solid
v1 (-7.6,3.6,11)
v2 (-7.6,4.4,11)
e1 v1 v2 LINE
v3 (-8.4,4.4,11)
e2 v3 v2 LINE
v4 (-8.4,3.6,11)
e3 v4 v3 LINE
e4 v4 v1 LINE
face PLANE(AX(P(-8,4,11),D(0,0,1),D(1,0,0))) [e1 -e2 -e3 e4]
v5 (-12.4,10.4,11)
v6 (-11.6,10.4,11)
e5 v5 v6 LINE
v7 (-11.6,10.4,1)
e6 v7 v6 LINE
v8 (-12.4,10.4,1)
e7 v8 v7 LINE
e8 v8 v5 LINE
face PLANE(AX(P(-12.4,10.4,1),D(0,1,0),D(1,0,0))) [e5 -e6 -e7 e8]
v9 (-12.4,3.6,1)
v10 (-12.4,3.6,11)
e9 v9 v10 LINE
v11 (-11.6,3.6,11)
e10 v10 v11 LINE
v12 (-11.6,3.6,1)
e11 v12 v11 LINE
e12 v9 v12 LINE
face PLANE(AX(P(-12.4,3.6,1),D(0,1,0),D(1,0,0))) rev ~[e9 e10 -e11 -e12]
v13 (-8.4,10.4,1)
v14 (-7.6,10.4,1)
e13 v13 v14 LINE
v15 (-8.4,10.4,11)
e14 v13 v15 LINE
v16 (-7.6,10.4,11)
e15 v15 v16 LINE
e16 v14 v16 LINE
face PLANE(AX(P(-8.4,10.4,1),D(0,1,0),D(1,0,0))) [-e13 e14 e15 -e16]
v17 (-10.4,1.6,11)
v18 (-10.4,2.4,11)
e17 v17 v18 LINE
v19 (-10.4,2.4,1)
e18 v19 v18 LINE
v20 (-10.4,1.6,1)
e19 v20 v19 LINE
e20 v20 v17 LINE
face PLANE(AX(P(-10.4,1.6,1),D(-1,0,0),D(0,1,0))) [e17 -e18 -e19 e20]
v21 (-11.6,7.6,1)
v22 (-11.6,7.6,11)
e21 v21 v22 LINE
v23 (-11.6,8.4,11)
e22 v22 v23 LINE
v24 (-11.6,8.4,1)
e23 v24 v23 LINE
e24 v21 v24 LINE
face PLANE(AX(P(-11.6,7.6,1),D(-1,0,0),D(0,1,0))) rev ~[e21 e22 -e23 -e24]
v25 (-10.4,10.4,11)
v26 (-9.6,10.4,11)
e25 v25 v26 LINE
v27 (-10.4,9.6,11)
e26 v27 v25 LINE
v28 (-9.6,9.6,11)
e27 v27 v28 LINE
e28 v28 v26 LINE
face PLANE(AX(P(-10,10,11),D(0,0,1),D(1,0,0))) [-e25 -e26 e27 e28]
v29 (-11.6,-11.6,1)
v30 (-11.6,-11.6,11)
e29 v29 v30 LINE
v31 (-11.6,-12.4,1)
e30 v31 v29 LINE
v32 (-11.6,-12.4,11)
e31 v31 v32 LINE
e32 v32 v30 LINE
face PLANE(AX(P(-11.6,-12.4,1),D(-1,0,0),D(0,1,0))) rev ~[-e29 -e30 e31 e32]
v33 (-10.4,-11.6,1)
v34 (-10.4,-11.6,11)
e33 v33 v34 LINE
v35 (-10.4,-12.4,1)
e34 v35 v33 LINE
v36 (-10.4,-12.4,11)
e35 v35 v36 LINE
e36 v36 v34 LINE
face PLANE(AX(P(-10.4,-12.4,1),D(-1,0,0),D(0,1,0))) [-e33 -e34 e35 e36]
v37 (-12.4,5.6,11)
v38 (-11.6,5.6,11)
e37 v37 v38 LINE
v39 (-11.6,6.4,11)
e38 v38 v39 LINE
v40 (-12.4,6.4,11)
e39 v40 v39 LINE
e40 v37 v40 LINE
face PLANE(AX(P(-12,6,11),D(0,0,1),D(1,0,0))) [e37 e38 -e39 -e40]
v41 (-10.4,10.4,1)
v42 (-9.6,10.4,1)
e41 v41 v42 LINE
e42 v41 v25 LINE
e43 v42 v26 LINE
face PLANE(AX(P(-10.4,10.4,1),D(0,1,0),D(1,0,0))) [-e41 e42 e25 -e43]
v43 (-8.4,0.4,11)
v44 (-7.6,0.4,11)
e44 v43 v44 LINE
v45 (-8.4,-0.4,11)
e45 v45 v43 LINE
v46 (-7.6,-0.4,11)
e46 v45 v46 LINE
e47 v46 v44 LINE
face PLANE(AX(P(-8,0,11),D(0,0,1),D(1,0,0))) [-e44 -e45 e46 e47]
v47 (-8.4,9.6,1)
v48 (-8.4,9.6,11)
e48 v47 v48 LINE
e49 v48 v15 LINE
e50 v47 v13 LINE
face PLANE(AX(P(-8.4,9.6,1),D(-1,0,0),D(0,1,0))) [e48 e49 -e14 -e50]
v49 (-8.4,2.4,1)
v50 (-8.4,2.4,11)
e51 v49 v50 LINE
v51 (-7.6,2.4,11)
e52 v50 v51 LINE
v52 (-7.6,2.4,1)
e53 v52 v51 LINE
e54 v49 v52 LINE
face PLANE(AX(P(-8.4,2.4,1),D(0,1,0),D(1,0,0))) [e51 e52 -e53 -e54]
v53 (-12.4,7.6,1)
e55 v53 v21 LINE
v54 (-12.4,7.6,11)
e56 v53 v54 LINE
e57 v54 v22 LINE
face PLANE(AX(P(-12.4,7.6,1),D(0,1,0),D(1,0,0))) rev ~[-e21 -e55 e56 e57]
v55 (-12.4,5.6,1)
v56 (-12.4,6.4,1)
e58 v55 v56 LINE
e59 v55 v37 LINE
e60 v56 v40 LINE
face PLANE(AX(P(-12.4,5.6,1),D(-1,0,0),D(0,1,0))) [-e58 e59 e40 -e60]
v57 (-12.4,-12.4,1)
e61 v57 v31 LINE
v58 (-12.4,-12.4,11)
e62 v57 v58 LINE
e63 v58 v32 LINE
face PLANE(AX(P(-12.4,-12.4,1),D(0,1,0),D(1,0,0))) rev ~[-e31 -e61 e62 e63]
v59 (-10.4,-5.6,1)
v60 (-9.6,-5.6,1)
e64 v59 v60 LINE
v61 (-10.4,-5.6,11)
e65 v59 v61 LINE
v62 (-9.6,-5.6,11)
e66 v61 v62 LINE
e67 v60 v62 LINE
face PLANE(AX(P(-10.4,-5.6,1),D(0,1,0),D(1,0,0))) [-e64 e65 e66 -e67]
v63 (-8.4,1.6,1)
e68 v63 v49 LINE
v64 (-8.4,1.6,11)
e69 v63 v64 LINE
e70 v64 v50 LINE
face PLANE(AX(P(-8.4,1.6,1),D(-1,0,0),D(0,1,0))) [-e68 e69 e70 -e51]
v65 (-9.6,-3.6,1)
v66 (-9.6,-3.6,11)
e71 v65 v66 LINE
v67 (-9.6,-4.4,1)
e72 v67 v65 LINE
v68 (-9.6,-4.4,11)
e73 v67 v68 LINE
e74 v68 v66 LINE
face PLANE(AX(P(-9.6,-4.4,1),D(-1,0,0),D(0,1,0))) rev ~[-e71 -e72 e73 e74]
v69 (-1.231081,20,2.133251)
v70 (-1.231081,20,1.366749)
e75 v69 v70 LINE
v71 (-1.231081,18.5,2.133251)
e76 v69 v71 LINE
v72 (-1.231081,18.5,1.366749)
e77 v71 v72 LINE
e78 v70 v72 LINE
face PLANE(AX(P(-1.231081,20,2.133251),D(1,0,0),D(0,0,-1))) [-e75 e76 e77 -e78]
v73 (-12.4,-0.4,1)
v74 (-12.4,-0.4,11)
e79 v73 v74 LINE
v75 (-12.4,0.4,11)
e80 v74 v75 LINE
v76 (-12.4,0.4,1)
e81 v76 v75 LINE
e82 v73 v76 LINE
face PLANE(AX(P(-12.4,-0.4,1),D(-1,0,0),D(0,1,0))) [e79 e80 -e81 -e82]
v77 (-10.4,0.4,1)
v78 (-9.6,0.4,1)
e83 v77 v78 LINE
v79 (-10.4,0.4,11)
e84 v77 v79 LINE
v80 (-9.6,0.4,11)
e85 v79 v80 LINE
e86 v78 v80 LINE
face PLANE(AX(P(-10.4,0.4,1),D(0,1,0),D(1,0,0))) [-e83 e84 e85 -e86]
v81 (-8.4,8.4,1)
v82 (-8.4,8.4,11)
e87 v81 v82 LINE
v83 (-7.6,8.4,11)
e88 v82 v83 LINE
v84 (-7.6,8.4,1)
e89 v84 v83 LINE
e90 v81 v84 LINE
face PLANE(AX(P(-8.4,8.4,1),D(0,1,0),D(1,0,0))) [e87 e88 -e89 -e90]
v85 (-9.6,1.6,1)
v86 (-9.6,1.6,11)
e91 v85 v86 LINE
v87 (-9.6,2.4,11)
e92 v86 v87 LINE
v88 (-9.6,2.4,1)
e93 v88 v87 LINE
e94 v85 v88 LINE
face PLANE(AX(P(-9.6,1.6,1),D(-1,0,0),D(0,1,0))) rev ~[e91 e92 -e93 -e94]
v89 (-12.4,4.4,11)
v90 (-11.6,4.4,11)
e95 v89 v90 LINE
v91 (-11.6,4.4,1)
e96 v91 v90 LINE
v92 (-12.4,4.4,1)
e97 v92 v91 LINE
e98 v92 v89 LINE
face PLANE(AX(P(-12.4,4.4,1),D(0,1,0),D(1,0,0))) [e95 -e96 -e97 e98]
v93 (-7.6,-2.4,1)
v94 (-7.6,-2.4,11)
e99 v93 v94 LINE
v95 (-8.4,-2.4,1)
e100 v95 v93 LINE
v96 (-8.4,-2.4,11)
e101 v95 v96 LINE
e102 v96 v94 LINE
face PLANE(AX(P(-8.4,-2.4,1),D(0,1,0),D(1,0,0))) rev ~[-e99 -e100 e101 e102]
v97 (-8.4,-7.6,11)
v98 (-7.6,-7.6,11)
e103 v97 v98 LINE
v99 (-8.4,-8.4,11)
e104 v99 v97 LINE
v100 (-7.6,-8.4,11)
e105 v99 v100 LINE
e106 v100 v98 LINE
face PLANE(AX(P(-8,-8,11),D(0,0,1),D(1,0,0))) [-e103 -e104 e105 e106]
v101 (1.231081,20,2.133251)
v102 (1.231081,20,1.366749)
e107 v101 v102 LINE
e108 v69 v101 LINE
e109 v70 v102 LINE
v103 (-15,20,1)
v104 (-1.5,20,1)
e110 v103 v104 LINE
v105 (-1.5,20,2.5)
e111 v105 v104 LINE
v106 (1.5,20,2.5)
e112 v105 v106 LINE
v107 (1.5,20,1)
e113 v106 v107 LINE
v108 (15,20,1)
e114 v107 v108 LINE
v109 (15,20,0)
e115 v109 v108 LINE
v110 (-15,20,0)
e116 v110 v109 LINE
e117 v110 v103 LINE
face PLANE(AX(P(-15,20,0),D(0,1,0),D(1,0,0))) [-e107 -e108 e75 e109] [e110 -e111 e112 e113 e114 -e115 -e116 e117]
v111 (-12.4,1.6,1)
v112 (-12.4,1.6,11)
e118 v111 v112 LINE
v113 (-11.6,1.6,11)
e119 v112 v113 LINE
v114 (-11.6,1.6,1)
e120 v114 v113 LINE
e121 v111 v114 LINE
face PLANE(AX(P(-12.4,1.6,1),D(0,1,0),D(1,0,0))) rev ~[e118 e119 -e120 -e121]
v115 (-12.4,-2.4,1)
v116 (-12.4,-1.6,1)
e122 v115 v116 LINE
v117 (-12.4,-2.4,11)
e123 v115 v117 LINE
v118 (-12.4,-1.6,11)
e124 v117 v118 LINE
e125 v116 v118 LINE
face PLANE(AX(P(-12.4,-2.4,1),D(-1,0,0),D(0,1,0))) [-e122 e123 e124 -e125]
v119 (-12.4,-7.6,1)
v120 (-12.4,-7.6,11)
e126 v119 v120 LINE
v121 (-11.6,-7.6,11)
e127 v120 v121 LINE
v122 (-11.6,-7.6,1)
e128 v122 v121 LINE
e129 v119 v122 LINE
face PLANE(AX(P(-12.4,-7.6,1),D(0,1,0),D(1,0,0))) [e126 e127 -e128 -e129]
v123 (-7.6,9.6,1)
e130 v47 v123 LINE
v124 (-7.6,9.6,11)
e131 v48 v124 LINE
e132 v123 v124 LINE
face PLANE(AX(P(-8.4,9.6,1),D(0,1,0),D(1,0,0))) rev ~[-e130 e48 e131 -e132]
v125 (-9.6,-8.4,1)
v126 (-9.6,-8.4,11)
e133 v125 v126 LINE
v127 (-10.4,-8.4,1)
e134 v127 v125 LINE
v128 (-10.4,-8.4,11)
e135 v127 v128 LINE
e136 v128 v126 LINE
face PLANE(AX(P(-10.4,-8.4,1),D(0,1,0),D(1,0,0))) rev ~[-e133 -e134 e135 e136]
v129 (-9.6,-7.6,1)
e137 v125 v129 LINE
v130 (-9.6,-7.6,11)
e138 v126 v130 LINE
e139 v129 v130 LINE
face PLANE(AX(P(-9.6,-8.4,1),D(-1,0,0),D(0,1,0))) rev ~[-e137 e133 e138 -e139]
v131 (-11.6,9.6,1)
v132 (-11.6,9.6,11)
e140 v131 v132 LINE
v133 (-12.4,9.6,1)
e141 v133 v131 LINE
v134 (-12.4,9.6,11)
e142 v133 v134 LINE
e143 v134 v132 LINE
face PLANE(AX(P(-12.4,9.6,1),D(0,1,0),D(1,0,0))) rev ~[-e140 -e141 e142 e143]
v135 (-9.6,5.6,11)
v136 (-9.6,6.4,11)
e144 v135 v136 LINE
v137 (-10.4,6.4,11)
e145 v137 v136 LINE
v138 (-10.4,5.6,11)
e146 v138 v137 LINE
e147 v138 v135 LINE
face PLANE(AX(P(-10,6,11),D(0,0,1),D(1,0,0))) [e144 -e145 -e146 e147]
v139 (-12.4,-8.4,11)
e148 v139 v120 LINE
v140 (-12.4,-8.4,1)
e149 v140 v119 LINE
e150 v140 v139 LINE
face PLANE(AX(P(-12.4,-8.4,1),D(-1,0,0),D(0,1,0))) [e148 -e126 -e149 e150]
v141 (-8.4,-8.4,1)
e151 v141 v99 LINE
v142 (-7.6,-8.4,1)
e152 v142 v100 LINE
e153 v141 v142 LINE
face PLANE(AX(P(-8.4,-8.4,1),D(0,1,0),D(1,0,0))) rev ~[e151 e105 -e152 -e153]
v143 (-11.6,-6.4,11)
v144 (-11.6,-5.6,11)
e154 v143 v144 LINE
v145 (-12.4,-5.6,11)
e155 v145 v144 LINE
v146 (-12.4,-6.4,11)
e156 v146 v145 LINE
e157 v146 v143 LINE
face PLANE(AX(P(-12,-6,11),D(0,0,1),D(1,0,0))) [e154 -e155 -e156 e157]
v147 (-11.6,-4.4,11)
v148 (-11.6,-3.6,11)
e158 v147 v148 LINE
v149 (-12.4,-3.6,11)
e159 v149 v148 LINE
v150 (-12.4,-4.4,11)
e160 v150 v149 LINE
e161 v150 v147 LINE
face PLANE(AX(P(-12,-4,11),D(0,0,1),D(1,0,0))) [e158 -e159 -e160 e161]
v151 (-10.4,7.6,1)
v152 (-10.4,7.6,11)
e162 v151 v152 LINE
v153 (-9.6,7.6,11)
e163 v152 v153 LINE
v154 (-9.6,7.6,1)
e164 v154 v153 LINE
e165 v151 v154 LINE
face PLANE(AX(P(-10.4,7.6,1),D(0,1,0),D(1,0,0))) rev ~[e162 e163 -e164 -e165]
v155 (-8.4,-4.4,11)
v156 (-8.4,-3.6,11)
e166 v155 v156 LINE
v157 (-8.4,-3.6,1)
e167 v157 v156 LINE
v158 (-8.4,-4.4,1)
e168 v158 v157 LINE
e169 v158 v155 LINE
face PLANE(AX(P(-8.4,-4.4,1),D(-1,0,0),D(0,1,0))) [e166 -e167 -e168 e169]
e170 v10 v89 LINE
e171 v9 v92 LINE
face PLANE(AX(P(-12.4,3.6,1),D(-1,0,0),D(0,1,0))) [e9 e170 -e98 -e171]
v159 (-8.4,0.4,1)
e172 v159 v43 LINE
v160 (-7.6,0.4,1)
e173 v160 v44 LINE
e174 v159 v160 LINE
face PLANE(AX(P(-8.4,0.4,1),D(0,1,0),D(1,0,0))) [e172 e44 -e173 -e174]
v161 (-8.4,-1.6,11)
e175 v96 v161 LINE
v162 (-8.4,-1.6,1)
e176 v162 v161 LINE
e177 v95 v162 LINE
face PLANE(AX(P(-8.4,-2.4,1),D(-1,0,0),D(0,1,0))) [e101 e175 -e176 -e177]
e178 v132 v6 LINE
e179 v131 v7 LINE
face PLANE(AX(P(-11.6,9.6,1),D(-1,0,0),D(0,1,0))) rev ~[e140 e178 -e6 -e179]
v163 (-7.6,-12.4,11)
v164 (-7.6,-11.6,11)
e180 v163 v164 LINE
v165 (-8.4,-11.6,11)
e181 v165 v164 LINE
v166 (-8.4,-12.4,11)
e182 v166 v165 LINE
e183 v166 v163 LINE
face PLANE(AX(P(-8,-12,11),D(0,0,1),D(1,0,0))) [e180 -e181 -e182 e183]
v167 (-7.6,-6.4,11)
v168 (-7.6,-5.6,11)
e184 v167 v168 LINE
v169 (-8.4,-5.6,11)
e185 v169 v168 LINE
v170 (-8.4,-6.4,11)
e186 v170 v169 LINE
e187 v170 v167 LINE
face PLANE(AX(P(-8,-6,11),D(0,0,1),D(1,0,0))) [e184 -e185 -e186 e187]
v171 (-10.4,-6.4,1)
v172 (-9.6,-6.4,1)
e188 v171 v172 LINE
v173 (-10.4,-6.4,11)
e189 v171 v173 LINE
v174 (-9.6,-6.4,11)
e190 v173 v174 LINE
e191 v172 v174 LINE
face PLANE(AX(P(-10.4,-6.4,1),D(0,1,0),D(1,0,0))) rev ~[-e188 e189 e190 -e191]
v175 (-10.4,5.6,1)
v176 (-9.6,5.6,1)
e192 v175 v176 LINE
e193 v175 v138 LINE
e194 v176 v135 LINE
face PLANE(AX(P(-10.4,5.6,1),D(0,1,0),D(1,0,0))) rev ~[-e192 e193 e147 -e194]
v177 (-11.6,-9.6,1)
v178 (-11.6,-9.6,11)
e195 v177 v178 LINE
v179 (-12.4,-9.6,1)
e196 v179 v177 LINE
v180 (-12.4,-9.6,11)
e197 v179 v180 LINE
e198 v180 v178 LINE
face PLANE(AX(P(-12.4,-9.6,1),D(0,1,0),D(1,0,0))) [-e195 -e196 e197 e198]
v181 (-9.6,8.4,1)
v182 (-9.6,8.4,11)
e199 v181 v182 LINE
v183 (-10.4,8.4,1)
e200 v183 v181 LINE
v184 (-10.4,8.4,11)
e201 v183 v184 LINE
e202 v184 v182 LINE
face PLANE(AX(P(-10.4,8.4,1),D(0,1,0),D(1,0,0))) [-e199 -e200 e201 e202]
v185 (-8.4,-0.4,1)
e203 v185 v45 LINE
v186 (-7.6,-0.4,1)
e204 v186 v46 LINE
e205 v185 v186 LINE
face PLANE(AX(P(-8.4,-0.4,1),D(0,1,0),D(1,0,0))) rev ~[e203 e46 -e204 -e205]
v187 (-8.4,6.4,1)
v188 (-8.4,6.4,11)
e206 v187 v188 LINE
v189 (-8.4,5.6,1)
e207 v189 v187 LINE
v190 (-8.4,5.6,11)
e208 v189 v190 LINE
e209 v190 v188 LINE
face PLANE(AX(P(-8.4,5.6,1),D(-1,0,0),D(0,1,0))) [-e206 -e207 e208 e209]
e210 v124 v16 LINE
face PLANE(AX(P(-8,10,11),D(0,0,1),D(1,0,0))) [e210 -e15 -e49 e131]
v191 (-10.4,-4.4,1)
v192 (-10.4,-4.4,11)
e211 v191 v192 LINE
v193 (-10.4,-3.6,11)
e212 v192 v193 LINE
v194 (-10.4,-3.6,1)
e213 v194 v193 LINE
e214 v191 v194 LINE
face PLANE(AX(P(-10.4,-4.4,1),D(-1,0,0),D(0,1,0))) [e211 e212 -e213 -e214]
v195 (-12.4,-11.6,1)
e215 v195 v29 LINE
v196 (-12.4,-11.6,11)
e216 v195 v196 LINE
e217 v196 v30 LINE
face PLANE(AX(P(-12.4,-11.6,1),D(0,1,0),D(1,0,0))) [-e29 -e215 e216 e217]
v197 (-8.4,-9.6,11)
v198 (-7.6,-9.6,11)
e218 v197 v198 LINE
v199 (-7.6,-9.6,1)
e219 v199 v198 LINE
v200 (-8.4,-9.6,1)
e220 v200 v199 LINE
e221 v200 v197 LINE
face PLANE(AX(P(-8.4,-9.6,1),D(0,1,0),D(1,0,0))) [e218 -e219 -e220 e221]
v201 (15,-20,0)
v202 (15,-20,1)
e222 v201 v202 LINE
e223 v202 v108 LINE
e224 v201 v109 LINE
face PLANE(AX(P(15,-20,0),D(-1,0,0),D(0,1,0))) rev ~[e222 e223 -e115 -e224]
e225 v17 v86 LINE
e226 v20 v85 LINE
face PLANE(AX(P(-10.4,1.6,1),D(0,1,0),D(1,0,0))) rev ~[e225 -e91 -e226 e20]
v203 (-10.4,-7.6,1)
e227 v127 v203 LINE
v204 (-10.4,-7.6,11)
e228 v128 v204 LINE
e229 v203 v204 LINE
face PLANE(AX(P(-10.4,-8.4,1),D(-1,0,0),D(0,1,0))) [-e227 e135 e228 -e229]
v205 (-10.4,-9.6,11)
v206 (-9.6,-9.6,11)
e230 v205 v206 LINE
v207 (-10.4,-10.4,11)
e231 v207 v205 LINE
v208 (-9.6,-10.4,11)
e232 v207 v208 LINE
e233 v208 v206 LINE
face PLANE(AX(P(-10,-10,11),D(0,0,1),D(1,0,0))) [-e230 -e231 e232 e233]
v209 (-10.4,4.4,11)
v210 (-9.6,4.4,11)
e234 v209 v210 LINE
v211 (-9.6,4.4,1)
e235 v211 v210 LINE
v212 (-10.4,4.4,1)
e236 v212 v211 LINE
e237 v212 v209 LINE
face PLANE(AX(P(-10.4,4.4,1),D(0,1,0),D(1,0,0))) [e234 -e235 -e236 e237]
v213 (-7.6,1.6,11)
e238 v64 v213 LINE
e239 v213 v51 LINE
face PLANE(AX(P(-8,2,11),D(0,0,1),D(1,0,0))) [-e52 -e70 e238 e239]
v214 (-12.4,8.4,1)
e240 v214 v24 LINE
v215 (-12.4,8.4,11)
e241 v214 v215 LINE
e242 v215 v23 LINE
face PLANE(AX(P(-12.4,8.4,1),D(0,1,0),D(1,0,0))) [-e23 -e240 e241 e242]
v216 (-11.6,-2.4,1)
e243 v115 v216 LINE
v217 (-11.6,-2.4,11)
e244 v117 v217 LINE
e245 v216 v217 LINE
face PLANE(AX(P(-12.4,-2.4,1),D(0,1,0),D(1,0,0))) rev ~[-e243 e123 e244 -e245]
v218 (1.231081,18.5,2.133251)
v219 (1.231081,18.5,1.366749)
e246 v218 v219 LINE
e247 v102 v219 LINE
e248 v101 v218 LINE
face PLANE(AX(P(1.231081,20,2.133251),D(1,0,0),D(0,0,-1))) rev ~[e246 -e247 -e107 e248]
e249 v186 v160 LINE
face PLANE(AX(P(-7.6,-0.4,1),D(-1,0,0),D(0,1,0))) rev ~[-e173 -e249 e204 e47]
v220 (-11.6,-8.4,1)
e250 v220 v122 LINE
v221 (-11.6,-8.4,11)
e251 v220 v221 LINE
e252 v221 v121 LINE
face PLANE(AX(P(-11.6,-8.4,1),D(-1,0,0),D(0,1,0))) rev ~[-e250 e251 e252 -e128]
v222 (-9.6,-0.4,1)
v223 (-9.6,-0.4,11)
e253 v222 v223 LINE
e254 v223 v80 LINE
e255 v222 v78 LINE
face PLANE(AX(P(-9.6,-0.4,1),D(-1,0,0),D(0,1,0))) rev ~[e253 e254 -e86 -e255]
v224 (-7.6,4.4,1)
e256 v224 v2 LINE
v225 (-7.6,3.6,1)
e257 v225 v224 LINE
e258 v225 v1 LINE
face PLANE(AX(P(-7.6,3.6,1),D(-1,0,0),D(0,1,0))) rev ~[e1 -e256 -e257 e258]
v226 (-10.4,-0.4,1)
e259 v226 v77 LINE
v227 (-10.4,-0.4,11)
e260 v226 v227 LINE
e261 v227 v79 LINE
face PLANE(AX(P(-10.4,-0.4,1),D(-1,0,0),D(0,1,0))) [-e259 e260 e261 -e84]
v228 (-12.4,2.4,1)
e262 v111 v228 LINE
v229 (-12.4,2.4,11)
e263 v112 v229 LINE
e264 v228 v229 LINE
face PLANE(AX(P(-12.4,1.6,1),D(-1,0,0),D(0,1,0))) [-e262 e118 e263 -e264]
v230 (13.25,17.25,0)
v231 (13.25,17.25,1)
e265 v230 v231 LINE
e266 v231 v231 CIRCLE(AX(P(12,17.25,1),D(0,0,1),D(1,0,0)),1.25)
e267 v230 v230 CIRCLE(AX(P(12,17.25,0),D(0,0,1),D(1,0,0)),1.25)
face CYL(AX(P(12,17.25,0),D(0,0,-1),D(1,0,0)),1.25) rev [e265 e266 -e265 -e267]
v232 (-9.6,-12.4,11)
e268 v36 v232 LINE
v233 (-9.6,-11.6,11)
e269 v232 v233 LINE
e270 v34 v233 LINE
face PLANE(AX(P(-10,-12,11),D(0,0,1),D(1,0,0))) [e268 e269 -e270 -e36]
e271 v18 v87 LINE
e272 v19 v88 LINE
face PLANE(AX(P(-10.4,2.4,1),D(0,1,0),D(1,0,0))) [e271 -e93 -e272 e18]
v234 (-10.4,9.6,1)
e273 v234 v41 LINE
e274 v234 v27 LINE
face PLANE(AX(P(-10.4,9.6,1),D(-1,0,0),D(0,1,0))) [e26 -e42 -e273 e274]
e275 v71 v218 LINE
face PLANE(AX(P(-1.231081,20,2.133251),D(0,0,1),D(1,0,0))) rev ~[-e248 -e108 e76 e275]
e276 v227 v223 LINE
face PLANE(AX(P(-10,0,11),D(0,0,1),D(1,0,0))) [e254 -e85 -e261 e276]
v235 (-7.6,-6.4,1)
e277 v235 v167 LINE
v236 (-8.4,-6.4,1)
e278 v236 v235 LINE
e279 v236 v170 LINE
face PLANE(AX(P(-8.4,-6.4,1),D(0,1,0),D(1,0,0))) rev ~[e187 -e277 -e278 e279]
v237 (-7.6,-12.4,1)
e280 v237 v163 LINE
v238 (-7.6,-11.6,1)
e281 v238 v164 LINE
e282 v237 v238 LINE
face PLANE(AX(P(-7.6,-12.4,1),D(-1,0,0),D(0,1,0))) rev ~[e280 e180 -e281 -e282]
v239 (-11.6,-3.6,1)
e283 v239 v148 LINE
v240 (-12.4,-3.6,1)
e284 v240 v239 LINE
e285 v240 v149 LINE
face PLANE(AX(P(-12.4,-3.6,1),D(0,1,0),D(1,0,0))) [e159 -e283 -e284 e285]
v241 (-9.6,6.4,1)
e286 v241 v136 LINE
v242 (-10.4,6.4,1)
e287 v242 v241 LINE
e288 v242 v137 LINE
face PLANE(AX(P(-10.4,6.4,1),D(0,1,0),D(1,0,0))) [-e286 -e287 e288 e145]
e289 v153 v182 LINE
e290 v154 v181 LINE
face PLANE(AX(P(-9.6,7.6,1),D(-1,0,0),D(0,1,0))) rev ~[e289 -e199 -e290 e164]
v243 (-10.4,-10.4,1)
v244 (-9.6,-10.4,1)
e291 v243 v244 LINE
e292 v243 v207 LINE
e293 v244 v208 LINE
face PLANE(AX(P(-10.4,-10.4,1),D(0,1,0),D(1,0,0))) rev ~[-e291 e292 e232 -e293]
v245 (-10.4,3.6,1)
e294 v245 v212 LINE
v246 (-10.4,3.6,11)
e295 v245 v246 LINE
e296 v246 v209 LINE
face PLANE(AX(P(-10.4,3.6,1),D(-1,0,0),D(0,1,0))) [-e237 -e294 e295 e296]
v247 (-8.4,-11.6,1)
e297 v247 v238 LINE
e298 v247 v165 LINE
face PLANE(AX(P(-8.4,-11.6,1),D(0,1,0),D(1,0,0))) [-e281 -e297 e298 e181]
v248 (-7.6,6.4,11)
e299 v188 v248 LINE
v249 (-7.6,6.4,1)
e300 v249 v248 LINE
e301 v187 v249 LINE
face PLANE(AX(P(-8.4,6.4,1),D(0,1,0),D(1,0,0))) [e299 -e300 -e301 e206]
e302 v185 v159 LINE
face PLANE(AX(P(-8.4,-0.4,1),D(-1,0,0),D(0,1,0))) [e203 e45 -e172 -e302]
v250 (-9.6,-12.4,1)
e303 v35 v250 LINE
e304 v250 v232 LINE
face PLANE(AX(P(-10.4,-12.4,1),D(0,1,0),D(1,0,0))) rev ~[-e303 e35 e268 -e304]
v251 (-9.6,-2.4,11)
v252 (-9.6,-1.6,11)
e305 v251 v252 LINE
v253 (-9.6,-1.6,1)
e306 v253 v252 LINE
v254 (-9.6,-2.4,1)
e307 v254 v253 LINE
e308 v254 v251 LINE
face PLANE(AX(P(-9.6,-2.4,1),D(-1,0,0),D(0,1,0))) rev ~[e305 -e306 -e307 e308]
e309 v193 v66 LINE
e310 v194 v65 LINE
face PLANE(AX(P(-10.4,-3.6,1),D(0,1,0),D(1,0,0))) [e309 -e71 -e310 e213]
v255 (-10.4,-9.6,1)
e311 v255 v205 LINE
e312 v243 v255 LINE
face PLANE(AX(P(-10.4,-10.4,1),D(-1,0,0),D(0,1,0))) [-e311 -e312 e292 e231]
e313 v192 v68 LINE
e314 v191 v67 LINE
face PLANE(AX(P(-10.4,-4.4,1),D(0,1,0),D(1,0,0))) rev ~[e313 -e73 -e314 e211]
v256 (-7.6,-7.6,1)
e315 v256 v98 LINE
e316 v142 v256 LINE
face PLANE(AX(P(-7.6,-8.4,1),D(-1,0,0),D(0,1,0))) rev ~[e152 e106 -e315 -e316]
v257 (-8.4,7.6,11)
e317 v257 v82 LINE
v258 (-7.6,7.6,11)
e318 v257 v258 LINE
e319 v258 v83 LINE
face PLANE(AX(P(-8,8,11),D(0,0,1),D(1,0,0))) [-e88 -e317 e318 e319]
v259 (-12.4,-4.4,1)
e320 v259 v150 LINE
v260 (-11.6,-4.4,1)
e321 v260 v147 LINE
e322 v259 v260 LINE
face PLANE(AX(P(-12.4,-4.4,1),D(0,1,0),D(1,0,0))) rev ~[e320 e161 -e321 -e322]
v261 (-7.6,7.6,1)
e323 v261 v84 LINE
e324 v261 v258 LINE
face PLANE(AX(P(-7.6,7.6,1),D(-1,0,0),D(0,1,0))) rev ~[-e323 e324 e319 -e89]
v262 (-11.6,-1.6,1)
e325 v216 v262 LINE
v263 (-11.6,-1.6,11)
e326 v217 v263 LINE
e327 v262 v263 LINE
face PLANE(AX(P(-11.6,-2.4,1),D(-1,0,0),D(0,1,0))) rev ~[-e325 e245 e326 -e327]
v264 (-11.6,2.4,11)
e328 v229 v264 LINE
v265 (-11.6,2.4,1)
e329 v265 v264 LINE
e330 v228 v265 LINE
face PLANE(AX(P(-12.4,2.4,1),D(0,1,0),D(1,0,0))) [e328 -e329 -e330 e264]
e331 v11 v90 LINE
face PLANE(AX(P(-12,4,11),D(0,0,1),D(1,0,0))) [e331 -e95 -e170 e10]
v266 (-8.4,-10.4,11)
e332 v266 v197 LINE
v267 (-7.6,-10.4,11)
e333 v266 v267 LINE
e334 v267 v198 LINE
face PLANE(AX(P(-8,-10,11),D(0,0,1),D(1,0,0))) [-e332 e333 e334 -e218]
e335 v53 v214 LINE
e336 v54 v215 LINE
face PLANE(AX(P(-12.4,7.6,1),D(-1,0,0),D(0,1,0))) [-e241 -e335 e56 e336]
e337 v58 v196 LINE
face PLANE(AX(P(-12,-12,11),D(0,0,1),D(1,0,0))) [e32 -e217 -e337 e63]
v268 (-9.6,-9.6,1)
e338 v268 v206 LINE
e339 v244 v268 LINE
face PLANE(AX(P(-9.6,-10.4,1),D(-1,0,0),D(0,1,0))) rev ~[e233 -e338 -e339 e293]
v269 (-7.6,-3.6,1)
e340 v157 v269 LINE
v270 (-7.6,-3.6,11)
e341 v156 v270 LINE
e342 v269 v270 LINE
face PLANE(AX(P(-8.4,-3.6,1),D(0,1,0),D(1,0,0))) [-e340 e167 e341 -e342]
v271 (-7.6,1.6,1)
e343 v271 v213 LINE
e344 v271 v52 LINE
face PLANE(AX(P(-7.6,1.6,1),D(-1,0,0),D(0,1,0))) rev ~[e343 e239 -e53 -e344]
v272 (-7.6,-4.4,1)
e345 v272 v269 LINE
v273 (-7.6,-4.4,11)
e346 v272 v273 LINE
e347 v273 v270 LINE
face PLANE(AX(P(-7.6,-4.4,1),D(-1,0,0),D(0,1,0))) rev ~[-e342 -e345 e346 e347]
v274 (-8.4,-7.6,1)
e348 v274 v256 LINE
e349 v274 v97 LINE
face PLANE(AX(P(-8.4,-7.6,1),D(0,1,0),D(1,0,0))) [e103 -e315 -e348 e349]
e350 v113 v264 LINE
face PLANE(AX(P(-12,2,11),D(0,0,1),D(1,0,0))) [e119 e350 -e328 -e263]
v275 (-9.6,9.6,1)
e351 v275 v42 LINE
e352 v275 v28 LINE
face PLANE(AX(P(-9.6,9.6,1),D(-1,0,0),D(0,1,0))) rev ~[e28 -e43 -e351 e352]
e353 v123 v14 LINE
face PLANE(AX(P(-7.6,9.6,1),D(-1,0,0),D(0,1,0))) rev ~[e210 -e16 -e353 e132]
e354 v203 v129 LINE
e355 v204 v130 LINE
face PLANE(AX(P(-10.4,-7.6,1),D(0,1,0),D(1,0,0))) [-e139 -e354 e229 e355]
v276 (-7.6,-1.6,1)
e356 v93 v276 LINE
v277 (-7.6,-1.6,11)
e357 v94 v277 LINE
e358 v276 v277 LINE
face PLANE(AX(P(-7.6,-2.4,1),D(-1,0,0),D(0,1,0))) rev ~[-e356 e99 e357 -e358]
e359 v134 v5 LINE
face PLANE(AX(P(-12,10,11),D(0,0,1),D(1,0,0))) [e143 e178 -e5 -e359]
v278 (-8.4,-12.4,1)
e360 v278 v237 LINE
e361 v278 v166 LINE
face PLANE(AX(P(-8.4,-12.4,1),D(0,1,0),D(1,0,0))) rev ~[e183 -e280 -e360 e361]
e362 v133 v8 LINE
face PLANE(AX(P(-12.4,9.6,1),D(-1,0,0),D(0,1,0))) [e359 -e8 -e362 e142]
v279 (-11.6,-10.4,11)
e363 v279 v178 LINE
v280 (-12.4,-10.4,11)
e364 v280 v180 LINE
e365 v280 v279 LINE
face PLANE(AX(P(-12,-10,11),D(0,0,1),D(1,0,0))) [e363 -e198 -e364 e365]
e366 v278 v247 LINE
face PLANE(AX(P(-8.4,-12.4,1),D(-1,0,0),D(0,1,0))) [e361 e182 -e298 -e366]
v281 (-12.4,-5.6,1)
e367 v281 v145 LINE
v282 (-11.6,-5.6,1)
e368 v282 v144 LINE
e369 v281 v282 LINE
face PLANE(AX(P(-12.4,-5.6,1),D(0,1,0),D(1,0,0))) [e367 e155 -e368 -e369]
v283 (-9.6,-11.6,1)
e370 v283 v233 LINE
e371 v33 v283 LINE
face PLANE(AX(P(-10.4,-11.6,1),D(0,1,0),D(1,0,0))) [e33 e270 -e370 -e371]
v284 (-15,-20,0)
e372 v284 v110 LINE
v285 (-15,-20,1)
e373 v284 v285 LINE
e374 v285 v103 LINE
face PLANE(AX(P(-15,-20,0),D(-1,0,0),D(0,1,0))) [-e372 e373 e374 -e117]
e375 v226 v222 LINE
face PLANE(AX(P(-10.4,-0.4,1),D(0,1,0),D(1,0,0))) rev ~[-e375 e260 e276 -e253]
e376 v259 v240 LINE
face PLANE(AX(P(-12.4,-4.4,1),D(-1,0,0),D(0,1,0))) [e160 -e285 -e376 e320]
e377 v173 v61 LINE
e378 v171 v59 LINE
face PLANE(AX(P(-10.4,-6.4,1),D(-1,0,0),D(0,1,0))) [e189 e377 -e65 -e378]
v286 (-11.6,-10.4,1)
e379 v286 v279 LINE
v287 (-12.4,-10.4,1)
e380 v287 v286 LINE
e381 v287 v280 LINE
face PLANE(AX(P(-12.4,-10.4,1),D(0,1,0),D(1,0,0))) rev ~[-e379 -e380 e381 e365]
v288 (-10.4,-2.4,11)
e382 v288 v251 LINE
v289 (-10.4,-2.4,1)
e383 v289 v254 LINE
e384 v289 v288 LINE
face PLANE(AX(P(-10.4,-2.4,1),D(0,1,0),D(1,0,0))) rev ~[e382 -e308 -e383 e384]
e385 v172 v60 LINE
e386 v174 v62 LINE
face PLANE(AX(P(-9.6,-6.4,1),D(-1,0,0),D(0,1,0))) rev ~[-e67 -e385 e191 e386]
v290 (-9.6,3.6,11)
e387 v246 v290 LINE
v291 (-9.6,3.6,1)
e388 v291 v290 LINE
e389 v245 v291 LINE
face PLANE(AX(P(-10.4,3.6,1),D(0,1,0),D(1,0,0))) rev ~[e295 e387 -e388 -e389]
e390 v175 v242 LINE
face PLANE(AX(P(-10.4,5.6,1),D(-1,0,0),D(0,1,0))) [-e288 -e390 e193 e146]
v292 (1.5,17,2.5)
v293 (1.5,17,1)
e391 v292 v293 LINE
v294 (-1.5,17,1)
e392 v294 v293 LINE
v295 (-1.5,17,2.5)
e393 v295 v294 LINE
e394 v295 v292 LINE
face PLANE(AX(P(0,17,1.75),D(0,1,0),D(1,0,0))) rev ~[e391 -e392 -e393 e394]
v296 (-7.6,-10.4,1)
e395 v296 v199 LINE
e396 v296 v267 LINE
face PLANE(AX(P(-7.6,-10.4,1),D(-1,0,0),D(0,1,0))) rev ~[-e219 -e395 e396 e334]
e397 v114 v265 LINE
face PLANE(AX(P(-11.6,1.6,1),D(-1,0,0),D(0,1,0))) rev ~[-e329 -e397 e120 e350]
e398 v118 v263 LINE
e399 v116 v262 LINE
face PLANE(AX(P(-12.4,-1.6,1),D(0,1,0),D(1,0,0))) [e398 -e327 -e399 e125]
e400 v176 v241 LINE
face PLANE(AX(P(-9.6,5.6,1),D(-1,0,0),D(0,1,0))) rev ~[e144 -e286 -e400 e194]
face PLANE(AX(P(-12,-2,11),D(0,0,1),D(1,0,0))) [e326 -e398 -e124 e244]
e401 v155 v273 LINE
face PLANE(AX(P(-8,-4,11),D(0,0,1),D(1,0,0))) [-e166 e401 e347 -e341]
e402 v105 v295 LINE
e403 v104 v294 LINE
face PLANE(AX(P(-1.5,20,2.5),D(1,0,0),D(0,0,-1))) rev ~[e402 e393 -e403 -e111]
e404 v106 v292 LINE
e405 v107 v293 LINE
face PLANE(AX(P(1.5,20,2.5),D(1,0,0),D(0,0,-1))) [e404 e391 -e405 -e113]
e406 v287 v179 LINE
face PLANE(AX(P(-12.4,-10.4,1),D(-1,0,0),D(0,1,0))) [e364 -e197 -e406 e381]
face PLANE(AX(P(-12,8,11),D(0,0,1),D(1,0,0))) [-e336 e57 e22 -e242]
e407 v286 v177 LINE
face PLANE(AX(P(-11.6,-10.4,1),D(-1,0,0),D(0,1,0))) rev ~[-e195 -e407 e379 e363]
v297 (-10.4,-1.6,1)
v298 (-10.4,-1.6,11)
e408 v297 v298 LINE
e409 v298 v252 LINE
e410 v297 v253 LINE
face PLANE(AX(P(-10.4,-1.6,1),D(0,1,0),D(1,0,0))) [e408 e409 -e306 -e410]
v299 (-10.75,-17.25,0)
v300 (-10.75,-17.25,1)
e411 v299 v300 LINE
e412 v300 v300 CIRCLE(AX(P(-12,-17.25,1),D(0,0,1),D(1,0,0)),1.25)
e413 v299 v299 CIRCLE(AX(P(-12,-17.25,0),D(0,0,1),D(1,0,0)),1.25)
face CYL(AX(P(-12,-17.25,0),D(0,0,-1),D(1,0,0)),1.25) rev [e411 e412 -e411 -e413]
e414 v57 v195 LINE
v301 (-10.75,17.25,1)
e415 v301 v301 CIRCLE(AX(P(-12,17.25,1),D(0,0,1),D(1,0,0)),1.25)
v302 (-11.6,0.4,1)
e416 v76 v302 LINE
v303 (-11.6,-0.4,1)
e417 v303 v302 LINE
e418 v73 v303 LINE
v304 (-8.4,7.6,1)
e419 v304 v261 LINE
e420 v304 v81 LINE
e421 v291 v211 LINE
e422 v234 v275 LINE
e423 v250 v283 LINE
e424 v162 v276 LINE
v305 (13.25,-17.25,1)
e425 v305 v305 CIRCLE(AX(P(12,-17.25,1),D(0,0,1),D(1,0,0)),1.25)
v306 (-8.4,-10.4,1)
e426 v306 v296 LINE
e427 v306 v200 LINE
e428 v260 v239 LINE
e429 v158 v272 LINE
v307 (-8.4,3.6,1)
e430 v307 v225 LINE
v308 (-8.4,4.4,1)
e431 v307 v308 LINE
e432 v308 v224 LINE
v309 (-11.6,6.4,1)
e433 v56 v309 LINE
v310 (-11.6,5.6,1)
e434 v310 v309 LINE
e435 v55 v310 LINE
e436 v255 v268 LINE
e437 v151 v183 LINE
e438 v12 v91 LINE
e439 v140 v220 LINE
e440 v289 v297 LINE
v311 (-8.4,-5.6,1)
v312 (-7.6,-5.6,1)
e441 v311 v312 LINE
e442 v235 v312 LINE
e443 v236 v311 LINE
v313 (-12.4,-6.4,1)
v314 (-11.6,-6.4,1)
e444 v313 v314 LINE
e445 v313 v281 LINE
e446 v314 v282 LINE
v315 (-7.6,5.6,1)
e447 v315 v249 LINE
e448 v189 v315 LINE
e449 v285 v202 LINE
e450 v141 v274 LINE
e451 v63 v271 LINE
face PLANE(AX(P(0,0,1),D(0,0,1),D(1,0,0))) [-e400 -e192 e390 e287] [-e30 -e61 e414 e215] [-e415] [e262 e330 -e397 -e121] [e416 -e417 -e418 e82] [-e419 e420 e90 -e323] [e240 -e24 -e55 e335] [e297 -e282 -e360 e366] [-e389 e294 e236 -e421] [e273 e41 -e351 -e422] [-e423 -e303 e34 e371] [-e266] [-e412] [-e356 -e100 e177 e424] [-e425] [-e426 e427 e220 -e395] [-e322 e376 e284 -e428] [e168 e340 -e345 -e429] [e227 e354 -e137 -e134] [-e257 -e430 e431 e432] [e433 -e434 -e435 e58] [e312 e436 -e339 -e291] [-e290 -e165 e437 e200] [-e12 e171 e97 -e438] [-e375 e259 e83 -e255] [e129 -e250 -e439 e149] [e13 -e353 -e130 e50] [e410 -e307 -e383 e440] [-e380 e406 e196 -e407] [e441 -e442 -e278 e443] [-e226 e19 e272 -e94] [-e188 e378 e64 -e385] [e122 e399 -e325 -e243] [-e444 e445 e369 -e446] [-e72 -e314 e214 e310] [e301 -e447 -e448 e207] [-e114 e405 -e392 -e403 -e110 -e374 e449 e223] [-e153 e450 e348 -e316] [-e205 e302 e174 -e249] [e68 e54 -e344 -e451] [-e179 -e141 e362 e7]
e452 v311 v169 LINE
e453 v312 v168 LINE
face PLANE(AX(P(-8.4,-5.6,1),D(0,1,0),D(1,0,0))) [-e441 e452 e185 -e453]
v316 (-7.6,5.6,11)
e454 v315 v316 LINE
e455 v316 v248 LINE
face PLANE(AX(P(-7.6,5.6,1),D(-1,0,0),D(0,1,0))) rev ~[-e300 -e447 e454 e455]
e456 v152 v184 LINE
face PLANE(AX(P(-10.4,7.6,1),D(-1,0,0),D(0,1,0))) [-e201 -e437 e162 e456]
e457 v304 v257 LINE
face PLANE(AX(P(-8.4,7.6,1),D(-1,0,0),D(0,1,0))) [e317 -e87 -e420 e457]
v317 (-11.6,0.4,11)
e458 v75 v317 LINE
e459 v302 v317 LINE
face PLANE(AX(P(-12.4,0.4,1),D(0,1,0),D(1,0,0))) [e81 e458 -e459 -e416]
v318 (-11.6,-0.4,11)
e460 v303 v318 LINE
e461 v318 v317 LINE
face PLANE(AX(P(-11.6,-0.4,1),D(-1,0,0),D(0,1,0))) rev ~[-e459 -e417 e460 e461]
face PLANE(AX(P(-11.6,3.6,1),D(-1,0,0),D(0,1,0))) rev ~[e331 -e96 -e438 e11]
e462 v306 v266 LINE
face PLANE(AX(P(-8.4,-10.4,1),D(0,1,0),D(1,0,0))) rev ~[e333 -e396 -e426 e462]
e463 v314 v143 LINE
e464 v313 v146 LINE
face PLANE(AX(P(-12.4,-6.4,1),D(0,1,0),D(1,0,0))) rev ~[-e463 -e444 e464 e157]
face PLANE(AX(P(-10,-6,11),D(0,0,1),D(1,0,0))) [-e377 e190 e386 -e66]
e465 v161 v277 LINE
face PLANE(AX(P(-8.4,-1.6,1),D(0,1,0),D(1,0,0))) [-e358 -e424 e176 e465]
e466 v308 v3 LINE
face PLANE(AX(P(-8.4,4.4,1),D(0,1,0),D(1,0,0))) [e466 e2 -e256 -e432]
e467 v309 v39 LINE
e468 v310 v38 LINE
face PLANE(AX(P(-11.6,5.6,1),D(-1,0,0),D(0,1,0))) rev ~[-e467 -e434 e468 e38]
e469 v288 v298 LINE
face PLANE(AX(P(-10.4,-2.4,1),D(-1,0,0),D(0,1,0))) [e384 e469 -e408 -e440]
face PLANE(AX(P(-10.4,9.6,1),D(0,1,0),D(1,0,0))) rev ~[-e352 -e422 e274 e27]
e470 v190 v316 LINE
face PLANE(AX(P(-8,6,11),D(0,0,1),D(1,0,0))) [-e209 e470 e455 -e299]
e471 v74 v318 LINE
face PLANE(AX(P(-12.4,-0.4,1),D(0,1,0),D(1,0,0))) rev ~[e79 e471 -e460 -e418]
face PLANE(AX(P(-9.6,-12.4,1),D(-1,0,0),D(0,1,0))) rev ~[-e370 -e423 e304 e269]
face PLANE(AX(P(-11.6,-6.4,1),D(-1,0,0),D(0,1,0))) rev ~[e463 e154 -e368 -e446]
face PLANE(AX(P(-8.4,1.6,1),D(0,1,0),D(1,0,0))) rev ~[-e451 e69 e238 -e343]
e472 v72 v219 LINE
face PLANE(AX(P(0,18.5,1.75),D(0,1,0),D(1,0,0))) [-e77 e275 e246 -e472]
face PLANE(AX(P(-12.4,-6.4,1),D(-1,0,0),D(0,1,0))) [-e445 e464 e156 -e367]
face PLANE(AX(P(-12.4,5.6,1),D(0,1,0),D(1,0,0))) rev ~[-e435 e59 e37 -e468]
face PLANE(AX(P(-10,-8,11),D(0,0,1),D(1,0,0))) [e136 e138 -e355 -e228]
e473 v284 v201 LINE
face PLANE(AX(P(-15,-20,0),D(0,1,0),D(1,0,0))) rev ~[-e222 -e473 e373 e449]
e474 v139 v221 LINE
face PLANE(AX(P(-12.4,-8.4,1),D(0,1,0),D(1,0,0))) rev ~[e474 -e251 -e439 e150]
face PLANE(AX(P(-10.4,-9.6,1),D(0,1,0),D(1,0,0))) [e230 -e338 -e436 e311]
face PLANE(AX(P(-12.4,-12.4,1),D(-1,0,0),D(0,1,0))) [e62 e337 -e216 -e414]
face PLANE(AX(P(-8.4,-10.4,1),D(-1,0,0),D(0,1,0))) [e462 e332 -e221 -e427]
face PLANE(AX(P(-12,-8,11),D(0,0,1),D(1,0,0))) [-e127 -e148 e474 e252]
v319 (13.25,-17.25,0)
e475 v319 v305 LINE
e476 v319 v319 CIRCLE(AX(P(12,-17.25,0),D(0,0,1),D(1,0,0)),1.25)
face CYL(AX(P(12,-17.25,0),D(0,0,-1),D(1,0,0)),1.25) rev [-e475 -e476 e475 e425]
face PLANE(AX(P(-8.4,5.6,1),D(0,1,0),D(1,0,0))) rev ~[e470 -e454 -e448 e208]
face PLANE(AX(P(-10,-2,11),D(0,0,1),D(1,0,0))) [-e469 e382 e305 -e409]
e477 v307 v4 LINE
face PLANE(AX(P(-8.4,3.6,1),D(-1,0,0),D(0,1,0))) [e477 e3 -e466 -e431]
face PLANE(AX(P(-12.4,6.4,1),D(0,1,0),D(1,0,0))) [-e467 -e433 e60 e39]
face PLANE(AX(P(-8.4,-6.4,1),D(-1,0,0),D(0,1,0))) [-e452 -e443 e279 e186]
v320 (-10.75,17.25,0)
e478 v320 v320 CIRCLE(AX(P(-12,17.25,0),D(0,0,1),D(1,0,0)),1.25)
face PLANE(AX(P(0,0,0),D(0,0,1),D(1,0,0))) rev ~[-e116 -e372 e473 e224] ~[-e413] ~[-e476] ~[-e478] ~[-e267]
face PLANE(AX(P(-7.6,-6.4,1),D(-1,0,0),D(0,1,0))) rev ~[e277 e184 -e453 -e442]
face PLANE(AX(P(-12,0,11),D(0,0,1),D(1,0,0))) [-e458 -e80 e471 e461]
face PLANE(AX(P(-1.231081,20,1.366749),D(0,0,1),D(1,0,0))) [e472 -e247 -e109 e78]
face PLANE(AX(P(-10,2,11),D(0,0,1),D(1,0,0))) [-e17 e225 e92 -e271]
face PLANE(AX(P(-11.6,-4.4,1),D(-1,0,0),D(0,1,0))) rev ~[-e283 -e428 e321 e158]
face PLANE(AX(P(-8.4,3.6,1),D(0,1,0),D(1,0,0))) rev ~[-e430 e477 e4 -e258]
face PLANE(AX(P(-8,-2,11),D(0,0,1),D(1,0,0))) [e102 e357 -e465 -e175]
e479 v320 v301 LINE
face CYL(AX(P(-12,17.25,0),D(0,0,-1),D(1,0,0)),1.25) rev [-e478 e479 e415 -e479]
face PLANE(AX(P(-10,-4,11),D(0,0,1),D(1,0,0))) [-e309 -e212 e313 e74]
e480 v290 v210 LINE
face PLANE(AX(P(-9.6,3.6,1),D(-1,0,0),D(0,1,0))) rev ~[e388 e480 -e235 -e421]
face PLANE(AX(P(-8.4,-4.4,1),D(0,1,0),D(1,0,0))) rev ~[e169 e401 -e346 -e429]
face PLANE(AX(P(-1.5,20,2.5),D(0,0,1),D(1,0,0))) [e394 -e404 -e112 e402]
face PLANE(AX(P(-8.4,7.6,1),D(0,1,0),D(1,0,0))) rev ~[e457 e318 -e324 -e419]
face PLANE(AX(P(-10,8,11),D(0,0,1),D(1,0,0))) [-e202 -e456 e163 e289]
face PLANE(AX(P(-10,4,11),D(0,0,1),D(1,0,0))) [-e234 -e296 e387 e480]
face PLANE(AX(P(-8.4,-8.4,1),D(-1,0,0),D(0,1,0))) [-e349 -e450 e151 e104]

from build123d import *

# Parameters (mm, degrees)
SKETCH_1_W          = 30
SKETCH_1_H          = 40
SKETCH_1_R          = 1.25
EXTRUDE_1_DEPTH     = 1
SKETCH_2_W          = 0.8
SKETCH_2_H          = 0.8
EXTRUDE_2_DEPTH     = 10
SKETCH_3_W          = 3
SKETCH_3_H          = 1.5
EXTRUDE_3_DEPTH     = 3
SKETCH_4_W          = 2.462162708
SKETCH_4_H          = 0.766502898
CUT_EXTRUDE_1_DEPTH = 1.5


with BuildPart() as part:
    # 草图1 → 凸台-拉伸1 (new body)
    with BuildSketch(Plane.XY):
        Rectangle(SKETCH_1_W, SKETCH_1_H)
        with Locations((-12, 17.25)):
            Circle(SKETCH_1_R, mode=Mode.SUBTRACT)
        with Locations((12, 17.25)):
            Circle(SKETCH_1_R, mode=Mode.SUBTRACT)
        with Locations((12, -17.25)):
            Circle(SKETCH_1_R, mode=Mode.SUBTRACT)
        with Locations((-12, -17.25)):
            Circle(SKETCH_1_R, mode=Mode.SUBTRACT)
    extrude(amount=EXTRUDE_1_DEPTH)

    # 草图2 → 凸台-拉伸2 (add)
    with BuildSketch(Plane.XY.offset(1)):
        with Locations((-12, -10)):
            Rectangle(SKETCH_2_W, SKETCH_2_H)
        with Locations((-12, -12)):
            Rectangle(SKETCH_2_W, SKETCH_2_H)
        with Locations((-12, -8)):
            Rectangle(SKETCH_2_W, SKETCH_2_H)
        with Locations((-12, -6)):
            Rectangle(SKETCH_2_W, SKETCH_2_H)
        with Locations((-12, -4)):
            Rectangle(SKETCH_2_W, SKETCH_2_H)
        with Locations((-12, -2)):
            Rectangle(SKETCH_2_W, SKETCH_2_H)
        with Locations((-12, 0)):
            Rectangle(SKETCH_2_W, SKETCH_2_H)
        with Locations((-12, 2)):
            Rectangle(SKETCH_2_W, SKETCH_2_H)
        with Locations((-12, 4)):
            Rectangle(SKETCH_2_W, SKETCH_2_H)
        with Locations((-12, 6)):
            Rectangle(SKETCH_2_W, SKETCH_2_H)
        with Locations((-12, 8)):
            Rectangle(SKETCH_2_W, SKETCH_2_H)
        with Locations((-12, 10)):
            Rectangle(SKETCH_2_W, SKETCH_2_H)
        with Locations((-10, -10)):
            Rectangle(SKETCH_2_W, SKETCH_2_H)
        with Locations((-10, -12)):
            Rectangle(SKETCH_2_W, SKETCH_2_H)
        with Locations((-10, -8)):
            Rectangle(SKETCH_2_W, SKETCH_2_H)
        with Locations((-10, -6)):
            Rectangle(SKETCH_2_W, SKETCH_2_H)
        with Locations((-10, -4)):
            Rectangle(SKETCH_2_W, SKETCH_2_H)
        with Locations((-10, -2)):
            Rectangle(SKETCH_2_W, SKETCH_2_H)
        with Locations((-10, 0)):
            Rectangle(SKETCH_2_W, SKETCH_2_H)
        with Locations((-10, 2)):
            Rectangle(SKETCH_2_W, SKETCH_2_H)
        with Locations((-10, 4)):
            Rectangle(SKETCH_2_W, SKETCH_2_H)
        with Locations((-10, 6)):
            Rectangle(SKETCH_2_W, SKETCH_2_H)
        with Locations((-10, 8)):
            Rectangle(SKETCH_2_W, SKETCH_2_H)
        with Locations((-10, 10)):
            Rectangle(SKETCH_2_W, SKETCH_2_H)
        with Locations((-8, -10)):
            Rectangle(SKETCH_2_W, SKETCH_2_H)
        with Locations((-8, -12)):
            Rectangle(SKETCH_2_W, SKETCH_2_H)
        with Locations((-8, -8)):
            Rectangle(SKETCH_2_W, SKETCH_2_H)
        with Locations((-8, -6)):
            Rectangle(SKETCH_2_W, SKETCH_2_H)
        with Locations((-8, -4)):
            Rectangle(SKETCH_2_W, SKETCH_2_H)
        with Locations((-8, -2)):
            Rectangle(SKETCH_2_W, SKETCH_2_H)
        with Locations((-8, 0)):
            Rectangle(SKETCH_2_W, SKETCH_2_H)
        with Locations((-8, 2)):
            Rectangle(SKETCH_2_W, SKETCH_2_H)
        with Locations((-8, 4)):
            Rectangle(SKETCH_2_W, SKETCH_2_H)
        with Locations((-8, 6)):
            Rectangle(SKETCH_2_W, SKETCH_2_H)
        with Locations((-8, 8)):
            Rectangle(SKETCH_2_W, SKETCH_2_H)
        with Locations((-8, 10)):
            Rectangle(SKETCH_2_W, SKETCH_2_H)
    extrude(amount=EXTRUDE_2_DEPTH)

    # 草图3 → 凸台-拉伸3 (add)
    with BuildSketch(Plane(origin=(0, 20, 0), x_dir=(1, 0, 0), z_dir=(0, 1, 0))):
        with Locations((0, -1.75)):
            Rectangle(SKETCH_3_W, SKETCH_3_H)
    extrude(amount=-EXTRUDE_3_DEPTH)

    # 草图4 → 切除-拉伸1 (cut)
    with BuildSketch(Plane(origin=(0, 20, 0), x_dir=(1, 0, 0), z_dir=(0, 1, 0))):
        with Locations((0, -1.75)):
            Rectangle(SKETCH_4_W, SKETCH_4_H)
    extrude(amount=-CUT_EXTRUDE_1_DEPTH, mode=Mode.SUBTRACT)


solid = part.part
